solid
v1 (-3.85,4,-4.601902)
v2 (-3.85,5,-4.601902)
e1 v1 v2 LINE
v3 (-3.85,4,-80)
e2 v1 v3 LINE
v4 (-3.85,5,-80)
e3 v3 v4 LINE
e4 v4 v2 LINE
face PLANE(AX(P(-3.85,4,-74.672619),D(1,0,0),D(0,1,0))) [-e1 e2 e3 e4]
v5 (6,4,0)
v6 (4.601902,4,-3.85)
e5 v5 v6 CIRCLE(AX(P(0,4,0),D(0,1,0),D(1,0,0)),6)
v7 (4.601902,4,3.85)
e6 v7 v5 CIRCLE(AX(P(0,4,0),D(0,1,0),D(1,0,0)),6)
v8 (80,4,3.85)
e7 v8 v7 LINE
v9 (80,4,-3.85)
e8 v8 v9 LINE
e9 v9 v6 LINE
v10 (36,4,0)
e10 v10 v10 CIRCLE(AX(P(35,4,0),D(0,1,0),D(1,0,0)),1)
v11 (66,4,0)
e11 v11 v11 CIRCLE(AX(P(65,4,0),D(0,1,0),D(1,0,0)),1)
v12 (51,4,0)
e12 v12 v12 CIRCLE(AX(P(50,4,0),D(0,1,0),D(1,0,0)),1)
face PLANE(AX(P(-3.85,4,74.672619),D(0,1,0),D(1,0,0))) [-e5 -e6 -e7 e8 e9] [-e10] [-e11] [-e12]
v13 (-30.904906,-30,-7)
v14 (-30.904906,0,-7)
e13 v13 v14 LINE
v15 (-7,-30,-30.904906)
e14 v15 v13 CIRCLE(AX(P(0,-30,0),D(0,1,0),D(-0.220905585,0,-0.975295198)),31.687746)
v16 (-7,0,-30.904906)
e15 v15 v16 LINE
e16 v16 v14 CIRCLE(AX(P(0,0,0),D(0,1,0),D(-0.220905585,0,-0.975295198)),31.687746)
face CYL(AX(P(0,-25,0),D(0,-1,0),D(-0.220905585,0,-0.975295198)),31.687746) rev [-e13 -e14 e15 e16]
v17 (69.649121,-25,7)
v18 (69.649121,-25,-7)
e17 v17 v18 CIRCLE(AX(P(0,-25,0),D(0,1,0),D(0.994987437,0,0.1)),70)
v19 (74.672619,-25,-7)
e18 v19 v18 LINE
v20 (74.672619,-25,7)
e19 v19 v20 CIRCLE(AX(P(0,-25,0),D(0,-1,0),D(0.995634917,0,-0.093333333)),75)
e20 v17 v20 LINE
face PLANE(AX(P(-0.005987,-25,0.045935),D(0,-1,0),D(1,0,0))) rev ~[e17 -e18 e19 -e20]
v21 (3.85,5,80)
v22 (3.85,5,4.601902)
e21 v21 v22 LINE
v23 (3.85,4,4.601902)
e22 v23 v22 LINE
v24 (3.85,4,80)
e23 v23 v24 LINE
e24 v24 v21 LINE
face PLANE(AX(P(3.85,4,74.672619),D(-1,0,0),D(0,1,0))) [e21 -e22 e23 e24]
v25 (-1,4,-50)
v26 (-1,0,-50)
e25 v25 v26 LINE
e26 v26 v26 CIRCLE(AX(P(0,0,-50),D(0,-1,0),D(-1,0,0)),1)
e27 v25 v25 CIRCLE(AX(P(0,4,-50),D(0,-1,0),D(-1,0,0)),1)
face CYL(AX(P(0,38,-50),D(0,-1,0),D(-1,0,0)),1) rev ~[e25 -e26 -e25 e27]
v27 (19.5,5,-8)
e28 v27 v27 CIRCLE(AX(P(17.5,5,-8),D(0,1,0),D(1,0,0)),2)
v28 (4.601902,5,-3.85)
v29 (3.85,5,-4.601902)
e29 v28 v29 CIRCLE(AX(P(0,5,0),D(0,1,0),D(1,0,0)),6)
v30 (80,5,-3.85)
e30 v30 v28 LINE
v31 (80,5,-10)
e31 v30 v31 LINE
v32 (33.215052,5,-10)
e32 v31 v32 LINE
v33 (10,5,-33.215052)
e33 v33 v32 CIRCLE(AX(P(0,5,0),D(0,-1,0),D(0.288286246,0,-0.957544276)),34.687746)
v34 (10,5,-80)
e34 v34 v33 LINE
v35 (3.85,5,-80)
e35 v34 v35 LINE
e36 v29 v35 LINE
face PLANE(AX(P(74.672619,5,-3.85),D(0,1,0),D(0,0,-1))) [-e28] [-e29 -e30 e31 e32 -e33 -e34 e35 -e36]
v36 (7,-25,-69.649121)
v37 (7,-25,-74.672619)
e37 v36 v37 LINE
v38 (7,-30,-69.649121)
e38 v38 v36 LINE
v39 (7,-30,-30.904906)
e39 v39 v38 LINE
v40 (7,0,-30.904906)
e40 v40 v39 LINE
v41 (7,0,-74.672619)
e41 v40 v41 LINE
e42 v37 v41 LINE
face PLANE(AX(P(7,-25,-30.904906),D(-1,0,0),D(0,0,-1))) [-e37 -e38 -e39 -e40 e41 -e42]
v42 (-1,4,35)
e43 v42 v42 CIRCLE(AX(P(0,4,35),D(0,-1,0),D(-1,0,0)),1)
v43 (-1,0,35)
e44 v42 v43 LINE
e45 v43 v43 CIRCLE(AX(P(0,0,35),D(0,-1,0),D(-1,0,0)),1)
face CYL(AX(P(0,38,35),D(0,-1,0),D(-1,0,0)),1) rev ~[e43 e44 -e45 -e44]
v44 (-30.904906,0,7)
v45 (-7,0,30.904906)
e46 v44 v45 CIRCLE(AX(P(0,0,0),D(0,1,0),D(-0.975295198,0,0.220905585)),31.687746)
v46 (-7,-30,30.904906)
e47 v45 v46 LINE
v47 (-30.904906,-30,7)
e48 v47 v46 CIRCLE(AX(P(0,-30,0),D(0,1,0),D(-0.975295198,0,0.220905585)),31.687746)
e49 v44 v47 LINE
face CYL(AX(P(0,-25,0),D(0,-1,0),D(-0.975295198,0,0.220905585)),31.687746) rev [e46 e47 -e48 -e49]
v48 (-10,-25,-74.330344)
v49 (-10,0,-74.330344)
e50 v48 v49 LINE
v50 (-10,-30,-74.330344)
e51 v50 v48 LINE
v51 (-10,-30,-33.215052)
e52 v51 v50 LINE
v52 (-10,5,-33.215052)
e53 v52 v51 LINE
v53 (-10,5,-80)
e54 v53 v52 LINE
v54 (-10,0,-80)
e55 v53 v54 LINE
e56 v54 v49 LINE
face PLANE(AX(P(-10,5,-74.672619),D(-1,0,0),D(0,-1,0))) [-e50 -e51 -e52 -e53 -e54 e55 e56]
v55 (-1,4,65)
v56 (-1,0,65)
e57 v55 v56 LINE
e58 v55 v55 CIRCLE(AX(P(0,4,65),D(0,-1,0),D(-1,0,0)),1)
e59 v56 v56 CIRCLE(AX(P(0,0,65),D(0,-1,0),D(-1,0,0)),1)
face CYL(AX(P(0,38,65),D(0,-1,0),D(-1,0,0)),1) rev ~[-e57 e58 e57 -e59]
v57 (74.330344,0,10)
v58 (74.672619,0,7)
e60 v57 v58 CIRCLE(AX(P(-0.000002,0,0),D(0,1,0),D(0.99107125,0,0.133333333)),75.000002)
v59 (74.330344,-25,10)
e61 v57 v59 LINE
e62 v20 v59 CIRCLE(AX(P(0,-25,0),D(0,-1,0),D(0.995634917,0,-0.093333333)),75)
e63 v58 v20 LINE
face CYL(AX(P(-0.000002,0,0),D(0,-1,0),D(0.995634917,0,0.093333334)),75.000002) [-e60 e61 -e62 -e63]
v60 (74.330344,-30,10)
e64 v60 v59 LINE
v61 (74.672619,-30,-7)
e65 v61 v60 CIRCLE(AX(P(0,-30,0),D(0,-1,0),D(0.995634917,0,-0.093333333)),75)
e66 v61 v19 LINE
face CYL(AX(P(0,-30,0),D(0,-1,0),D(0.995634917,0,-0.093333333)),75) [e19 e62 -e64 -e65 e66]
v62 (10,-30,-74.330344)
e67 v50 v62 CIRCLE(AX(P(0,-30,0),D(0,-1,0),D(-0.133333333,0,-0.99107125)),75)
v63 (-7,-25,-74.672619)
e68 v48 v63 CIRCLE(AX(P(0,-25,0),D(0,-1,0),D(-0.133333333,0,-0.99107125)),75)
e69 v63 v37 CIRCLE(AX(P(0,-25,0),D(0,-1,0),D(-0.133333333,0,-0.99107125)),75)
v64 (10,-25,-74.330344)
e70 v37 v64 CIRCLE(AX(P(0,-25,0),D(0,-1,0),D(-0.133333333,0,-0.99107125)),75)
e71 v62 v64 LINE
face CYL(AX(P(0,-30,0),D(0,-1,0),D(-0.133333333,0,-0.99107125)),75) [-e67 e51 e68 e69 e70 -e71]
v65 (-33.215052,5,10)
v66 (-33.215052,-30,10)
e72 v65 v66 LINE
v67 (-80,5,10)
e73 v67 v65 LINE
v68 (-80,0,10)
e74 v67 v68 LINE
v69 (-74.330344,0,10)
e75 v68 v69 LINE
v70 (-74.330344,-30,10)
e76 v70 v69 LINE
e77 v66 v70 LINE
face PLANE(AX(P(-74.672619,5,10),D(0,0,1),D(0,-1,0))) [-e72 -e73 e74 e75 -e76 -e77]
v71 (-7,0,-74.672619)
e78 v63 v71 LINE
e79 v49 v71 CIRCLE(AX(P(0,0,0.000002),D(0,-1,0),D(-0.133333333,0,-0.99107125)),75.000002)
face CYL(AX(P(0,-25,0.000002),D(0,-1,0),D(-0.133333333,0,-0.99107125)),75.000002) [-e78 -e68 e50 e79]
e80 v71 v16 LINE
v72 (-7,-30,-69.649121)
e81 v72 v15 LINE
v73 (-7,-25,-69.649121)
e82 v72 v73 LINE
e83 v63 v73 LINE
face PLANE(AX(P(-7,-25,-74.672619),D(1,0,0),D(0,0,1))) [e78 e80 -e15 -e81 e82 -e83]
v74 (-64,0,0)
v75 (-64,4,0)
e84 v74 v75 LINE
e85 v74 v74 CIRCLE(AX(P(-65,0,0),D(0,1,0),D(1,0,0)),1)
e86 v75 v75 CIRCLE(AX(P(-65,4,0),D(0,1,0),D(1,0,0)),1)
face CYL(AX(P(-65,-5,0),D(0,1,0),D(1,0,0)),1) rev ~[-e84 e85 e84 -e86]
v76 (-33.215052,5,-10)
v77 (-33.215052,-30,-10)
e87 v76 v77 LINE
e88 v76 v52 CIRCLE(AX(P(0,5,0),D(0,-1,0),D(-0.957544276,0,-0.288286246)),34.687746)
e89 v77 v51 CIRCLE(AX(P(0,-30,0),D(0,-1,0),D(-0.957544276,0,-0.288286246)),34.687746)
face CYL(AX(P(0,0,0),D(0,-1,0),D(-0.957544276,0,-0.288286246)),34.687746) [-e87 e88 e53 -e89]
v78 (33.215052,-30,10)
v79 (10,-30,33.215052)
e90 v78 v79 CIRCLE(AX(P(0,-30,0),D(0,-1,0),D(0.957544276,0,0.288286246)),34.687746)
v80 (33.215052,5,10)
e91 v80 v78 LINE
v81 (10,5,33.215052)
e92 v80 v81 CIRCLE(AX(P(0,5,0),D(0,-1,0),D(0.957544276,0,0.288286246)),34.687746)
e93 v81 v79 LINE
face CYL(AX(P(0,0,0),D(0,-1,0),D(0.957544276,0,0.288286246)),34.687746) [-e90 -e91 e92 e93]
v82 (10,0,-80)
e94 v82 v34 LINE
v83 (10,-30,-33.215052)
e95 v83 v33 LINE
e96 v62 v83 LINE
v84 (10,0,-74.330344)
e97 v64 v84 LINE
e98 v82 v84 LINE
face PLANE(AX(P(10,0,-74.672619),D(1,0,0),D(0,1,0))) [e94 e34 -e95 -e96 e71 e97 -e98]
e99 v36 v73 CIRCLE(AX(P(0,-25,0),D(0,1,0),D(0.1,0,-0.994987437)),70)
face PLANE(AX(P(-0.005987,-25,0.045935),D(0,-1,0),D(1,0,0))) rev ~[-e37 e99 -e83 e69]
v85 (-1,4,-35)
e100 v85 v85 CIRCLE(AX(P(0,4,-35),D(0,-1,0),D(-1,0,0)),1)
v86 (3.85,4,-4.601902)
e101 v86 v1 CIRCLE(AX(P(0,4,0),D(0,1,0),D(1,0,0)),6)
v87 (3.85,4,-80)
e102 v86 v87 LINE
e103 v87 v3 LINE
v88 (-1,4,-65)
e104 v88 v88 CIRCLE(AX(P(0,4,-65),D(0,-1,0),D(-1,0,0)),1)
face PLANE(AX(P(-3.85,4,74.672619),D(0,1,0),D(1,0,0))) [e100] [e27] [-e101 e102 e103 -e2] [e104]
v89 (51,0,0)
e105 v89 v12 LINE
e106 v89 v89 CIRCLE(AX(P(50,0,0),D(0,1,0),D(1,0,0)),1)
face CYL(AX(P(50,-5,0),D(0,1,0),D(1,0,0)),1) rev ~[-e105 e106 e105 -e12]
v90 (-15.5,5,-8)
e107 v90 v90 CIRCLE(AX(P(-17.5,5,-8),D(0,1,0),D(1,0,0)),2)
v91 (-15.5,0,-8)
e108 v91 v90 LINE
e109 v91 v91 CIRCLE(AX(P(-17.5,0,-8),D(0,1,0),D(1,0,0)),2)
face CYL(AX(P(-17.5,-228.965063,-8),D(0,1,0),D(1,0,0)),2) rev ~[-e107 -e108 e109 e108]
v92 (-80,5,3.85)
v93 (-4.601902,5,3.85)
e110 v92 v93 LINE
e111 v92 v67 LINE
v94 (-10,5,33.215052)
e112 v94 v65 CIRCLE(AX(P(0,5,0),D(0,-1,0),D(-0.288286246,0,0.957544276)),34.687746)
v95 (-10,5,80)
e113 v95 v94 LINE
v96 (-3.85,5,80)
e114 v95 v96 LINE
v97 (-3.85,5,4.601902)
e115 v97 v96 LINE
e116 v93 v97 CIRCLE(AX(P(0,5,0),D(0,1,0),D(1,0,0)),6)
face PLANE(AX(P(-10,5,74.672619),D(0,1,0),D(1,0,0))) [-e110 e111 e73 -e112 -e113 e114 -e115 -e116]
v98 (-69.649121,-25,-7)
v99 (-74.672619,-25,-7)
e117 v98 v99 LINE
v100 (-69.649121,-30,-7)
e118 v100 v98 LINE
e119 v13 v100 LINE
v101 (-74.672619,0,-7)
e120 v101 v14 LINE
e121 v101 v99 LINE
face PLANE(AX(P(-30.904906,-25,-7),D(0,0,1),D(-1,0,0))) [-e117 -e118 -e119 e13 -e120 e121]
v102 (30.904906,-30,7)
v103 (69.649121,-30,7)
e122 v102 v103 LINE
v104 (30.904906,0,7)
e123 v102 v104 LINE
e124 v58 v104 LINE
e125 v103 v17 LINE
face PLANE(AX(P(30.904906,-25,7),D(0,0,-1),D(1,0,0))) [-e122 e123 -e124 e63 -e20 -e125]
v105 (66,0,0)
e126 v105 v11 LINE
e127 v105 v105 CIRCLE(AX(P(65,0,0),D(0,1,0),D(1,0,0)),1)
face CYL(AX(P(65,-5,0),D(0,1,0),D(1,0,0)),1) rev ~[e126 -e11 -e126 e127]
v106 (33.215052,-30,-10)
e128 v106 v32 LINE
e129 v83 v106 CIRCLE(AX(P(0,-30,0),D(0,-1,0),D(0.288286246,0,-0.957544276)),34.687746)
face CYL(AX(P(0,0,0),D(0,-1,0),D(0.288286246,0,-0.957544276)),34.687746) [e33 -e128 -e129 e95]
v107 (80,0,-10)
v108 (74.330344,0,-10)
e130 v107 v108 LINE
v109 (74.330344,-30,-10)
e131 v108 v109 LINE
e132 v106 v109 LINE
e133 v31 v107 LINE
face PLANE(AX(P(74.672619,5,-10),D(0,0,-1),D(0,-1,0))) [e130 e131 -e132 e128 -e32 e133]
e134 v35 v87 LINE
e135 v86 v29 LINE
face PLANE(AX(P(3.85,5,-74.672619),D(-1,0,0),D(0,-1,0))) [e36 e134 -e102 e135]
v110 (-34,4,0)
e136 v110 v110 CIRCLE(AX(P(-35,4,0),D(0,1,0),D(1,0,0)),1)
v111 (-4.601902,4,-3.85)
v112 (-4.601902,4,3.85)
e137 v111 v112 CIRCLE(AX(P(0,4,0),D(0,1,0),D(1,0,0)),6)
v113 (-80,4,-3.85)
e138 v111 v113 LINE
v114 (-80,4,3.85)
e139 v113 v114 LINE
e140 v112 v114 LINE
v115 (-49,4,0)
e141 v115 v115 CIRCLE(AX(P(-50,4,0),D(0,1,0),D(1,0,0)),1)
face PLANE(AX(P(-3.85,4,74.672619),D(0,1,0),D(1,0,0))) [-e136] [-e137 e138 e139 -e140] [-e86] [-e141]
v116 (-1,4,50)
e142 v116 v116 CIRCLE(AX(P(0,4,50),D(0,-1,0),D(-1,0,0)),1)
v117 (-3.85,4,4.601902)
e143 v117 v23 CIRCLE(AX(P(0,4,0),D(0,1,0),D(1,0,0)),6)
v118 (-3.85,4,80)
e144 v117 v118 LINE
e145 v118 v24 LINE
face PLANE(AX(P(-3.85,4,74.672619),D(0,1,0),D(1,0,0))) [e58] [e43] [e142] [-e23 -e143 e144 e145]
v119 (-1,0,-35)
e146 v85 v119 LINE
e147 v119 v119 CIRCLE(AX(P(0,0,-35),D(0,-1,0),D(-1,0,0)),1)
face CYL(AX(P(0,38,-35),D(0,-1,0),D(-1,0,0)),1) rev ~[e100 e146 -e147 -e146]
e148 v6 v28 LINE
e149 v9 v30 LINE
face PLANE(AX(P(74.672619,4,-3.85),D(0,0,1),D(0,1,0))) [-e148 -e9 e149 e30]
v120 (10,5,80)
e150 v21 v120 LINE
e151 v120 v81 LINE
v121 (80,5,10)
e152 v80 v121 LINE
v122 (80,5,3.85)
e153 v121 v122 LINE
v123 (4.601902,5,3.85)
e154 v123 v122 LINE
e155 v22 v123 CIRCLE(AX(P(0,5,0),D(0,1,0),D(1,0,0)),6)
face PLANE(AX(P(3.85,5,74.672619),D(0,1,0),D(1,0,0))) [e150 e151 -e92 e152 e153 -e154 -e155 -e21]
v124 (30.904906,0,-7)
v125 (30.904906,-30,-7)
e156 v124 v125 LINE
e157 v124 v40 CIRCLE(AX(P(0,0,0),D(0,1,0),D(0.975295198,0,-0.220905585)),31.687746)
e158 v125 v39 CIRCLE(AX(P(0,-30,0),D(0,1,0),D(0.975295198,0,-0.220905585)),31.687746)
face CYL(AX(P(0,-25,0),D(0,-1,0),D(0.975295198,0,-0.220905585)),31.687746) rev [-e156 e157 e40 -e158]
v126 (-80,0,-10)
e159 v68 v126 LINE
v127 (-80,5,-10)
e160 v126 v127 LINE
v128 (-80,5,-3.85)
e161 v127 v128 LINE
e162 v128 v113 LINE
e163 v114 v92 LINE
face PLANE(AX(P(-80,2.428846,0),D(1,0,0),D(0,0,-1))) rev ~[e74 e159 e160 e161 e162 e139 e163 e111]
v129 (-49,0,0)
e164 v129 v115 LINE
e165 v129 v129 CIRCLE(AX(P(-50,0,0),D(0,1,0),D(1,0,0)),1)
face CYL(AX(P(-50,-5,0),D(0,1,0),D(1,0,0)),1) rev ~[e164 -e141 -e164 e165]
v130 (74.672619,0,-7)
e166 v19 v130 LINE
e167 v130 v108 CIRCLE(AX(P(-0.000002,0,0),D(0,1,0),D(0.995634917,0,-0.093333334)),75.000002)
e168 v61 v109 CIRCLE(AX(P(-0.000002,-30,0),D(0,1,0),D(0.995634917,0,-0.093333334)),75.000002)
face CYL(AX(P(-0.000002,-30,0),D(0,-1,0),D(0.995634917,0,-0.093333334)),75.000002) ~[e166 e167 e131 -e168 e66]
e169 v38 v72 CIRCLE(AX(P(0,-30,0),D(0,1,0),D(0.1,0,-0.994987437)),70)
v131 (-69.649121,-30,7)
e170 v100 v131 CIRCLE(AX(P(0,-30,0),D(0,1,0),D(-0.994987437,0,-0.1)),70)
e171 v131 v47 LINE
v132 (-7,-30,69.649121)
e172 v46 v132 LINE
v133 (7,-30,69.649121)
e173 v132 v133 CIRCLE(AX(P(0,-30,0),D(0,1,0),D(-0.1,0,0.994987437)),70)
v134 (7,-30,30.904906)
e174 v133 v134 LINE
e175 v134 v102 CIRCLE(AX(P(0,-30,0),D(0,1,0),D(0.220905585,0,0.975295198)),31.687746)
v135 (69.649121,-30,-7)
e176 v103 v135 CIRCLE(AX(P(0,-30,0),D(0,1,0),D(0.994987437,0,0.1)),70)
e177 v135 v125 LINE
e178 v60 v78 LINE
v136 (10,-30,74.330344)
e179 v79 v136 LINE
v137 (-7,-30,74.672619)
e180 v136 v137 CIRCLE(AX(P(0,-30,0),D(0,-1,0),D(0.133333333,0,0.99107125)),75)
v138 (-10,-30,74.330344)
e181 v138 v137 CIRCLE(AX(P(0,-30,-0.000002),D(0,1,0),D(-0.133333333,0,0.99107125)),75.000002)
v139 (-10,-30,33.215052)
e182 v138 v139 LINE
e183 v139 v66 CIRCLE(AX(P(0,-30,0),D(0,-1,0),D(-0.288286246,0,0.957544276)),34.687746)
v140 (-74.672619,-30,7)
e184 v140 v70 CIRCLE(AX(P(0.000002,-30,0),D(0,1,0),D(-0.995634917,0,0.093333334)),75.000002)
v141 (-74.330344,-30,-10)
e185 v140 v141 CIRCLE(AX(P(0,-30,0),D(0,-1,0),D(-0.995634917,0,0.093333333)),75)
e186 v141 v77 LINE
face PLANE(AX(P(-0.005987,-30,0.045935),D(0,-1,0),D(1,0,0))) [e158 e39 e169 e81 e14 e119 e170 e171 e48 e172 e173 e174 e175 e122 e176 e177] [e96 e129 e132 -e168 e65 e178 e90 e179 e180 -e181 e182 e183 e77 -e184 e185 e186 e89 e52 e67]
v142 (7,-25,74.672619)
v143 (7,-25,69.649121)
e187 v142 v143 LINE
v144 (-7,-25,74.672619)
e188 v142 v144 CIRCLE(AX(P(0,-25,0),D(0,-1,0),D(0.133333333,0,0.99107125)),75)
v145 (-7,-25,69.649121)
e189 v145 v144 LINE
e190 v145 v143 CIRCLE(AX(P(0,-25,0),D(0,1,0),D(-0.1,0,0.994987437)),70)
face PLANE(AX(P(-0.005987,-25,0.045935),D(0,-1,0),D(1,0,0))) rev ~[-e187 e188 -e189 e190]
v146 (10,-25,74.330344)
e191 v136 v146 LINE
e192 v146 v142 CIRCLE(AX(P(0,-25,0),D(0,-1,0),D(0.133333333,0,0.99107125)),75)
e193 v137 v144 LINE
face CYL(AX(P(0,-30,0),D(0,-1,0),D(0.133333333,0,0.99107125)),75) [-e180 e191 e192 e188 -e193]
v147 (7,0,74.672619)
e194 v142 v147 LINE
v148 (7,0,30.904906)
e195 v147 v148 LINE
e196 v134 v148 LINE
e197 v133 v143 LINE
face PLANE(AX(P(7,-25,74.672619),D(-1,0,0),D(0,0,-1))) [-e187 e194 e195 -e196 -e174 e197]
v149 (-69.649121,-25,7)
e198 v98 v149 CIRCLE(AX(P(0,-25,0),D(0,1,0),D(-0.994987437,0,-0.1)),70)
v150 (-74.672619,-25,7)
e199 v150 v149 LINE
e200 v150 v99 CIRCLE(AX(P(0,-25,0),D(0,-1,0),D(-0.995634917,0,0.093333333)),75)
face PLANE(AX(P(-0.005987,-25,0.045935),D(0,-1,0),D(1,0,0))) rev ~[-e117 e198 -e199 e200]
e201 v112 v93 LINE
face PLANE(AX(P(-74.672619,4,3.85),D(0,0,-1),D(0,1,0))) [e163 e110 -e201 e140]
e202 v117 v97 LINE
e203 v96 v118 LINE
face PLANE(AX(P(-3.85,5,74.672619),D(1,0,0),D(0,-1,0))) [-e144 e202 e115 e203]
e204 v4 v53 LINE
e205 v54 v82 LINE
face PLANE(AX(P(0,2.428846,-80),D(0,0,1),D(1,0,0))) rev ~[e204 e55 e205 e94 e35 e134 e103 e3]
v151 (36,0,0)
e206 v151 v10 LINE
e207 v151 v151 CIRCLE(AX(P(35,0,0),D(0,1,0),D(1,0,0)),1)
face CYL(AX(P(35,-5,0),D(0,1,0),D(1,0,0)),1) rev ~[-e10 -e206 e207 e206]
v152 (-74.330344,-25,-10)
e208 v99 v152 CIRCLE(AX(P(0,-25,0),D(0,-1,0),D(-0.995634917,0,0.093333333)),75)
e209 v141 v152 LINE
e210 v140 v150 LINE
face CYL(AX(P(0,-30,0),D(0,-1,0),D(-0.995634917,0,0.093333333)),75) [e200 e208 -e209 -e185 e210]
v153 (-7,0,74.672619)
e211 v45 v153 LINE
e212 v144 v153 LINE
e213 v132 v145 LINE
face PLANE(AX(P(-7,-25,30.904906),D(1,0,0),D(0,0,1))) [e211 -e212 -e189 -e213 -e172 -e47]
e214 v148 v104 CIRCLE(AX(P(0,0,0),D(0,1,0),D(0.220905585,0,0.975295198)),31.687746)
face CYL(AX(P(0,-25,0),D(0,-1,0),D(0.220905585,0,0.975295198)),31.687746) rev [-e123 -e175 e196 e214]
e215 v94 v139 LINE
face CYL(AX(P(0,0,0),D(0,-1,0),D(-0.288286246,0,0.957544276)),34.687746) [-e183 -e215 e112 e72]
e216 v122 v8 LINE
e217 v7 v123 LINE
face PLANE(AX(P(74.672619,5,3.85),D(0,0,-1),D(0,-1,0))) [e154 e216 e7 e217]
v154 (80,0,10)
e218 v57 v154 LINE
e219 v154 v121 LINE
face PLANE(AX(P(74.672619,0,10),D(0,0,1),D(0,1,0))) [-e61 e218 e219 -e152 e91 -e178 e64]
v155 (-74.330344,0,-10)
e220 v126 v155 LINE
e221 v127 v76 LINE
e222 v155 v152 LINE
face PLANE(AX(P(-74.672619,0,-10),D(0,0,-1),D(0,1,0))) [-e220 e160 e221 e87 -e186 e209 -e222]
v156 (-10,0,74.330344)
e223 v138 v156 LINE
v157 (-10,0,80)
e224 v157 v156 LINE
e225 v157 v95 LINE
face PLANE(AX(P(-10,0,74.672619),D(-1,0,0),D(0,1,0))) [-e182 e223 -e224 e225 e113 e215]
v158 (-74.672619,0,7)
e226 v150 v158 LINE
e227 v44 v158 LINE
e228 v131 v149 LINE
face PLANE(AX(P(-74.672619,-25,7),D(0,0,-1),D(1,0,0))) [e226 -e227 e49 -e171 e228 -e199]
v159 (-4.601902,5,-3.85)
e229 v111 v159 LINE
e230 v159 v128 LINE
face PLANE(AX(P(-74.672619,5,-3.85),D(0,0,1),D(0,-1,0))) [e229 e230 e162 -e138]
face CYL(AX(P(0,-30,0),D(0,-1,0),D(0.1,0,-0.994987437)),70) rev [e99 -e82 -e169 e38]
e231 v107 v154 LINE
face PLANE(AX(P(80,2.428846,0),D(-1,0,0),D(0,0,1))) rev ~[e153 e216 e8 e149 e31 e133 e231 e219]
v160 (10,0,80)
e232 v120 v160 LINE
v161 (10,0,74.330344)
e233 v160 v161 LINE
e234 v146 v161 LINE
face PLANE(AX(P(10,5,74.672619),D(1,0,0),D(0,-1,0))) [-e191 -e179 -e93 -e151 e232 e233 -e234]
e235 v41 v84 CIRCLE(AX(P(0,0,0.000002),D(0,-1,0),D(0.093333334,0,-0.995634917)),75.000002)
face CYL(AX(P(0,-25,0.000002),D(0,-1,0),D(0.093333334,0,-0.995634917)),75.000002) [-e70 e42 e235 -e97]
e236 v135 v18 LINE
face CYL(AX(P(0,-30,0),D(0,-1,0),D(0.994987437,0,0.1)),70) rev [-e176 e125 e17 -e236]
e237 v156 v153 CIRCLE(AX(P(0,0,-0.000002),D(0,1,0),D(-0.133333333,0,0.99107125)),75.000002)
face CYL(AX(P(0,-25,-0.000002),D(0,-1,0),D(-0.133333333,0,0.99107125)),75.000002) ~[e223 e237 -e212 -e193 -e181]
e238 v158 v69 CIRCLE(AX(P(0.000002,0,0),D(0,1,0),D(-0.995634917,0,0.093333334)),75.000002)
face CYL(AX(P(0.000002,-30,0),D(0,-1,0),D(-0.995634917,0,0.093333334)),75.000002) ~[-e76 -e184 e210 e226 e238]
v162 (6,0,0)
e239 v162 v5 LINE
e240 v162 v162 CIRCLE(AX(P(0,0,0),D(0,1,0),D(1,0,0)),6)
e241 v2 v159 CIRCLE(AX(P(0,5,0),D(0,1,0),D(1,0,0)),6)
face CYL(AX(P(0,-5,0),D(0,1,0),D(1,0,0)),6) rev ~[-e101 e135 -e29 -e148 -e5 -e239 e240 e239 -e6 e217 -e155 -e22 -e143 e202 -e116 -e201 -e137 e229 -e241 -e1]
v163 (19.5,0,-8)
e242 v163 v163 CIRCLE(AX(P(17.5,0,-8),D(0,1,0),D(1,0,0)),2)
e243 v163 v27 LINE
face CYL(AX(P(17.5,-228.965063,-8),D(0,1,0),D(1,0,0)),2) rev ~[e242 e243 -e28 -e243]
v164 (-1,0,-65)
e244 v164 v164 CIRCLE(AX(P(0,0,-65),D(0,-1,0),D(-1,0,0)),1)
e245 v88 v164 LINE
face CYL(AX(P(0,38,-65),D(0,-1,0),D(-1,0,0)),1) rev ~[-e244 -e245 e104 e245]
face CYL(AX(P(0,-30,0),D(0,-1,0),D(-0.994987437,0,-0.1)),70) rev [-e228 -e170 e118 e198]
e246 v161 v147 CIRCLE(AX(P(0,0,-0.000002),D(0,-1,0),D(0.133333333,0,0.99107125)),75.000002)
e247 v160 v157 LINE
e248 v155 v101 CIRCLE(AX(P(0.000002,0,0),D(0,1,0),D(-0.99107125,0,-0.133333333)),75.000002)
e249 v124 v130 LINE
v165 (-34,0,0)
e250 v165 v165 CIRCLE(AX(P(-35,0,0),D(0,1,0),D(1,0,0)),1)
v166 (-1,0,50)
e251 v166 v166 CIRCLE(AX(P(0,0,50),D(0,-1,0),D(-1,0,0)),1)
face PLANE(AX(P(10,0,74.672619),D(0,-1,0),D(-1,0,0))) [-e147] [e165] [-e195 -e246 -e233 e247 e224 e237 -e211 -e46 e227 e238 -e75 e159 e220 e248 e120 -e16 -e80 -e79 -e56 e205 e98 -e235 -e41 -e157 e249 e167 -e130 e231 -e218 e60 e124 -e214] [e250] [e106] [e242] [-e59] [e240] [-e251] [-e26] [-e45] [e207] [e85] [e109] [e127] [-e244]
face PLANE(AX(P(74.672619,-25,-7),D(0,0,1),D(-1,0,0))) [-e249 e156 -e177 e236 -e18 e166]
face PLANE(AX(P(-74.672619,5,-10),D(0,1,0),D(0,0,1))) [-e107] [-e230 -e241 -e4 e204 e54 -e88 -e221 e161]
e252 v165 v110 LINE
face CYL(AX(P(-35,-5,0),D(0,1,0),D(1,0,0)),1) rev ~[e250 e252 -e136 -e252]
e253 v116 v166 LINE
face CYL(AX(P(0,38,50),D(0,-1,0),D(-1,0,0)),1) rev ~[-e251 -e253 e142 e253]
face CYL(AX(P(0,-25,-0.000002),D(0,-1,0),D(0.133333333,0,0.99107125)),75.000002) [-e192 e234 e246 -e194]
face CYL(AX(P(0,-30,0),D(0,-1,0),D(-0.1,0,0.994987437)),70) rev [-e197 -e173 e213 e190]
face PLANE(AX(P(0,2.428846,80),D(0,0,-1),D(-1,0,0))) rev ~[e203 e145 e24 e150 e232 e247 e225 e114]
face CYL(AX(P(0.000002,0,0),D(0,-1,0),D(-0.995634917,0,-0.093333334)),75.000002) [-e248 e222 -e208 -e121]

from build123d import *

# Parameters (mm, degrees)
EXTRUDE_1_DEPTH             = 5
EXTRUDE_2_DEPTH             = 25
EXTRUDE_3_DEPTH             = 25
EXTRUDE_4_DEPTH             = 25
EXTRUDE_5_DEPTH             = 25
EXTRUDE_6_DEPTH             = 5
CUT_EXTRUDE_1_DEPTH         = 1
CUT_EXTRUDE_2_DEPTH         = 5
CUT_EXTRUDE_3_DEPTH         = 5
CUT_EXTRUDE_4_DEPTH         = 5
CUT_EXTRUDE_5_DEPTH         = 25
CUT_EXTRUDE_6_DEPTH         = 0.342275074
CUT_EXTRUDE_START           = -5
CUT_EXTRUDE_7_DEPTH         = 5
EXTRUDE_7_DEPTH             = 0.342275074
CUT_EXTRUDE_8_DEPTH         = 25
CUT_EXTRUDE_9_DEPTH         = 0.342275074
CUT_EXTRUDE_10_DEPTH        = 5
EXTRUDE_8_DEPTH             = 0.342275074
EXTRUDE_9_DEPTH             = 5.32738119
EXTRUDE_10_DEPTH            = 5.32738119
EXTRUDE_11_DEPTH            = 5.32738119
CUT_EXTRUDE_11_DEPTH        = 25
EXTRUDE_12_DEPTH            = 5.32738119
HOLE_WIZARD_2_0_2_1_D       = 2
HOLE_WIZARD_2_0_2_1_DEPTH   = 5
HOLE_WIZARD_12_0_12_1_D     = 12
HOLE_WIZARD_12_0_12_1_DEPTH = 5
HOLE_WIZARD_2_0_2_2_D       = 2
HOLE_WIZARD_2_0_2_2_DEPTH   = 34
HOLE_WIZARD_4_0_4_1_D       = 4


with BuildPart() as part:
    # 草图1 → 凸台-拉伸1 (new body)
    with BuildSketch(Plane.XZ.offset(30)):
        with BuildLine():
            Line((-7, 74.67261881), (-10, 74.67261881))
            Line((-10, 74.67261881), (-10, 33.215052396))
            ThreePointArc((-10, 33.215052396), (-24.527940249, 24.527940249), (-33.215052396, 10))
            Line((-33.215052396, 10), (-74.330343737, 10))
            add(Edge.make_bspline(
                [(-74.67261881, 10), (-74.558527119, 10), (-74.444435428, 10), (-74.330343737, 10)],
                knots=[0, 0, 0, 0, 1, 1, 1, 1], degree=3))
            Line((-74.67261881, 10), (-74.67261881, 7))
            ThreePointArc((-74.67261881, 7), (-74.984803207, -1.509731121), (-74.330343737, -10))
            Line((-74.330343737, -10), (-33.215052396, -10))
            ThreePointArc((-33.215052396, -10), (-24.527940249, -24.527940249), (-10, -33.215052396))
            Line((-10, -33.215052396), (-10, -74.330343737))
            ThreePointArc((-10, -74.330343737), (0, -75), (10, -74.330343737))
            Line((10, -74.330343737), (10, -33.215052396))
            ThreePointArc((10, -33.215052396), (24.527940249, -24.527940249), (33.215052396, -10))
            Line((33.215052396, -10), (74.330343737, -10))
            add(Edge.make_bspline(
                [(74.67261881, -10), (74.558527119, -10), (74.444435428, -10), (74.330343737, -10)],
                knots=[0, 0, 0, 0, 1, 1, 1, 1], degree=3))
            Line((74.67261881, -10), (74.67261881, -7))
            ThreePointArc((74.67261881, -7), (74.984803207, 1.509731121), (74.330343737, 10))
            Line((74.330343737, 10), (33.215052396, 10))
            ThreePointArc((33.215052396, 10), (24.527940249, 24.527940249), (10, 33.215052396))
            Line((10, 33.215052396), (10, 74.330343737))
            ThreePointArc((10, 74.330343737), (1.509731121, 74.984803207), (-7, 74.67261881))
        make_face()
        with BuildLine():
            Line((-69.649120597, 7), (-30.904906263, 7))
            ThreePointArc((-30.904906263, 7), (-22.406619905, 22.406619905), (-7, 30.904906263))
            Line((-7, 30.904906263), (-7, 69.649120597))
            ThreePointArc((-7, 69.649120597), (0, 70), (7, 69.649120597))
            Line((7, 69.649120597), (7, 30.904906263))
            ThreePointArc((7, 30.904906263), (22.406619905, 22.406619905), (30.904906263, 7))
            Line((30.904906263, 7), (69.649120597, 7))
            ThreePointArc((69.649120597, 7), (70, 0), (69.649120597, -7))
            Line((69.649120597, -7), (30.904906263, -7))
            ThreePointArc((30.904906263, -7), (22.406619905, -22.406619905), (7, -30.904906263))
            Line((7, -30.904906263), (7, -69.649120597))
            ThreePointArc((7, -69.649120597), (0, -70), (-7, -69.649120597))
            Line((-7, -69.649120597), (-7, -30.904906263))
            ThreePointArc((-7, -30.904906263), (-22.406619905, -22.406619905), (-30.904906263, -7))
            Line((-30.904906263, -7), (-69.649120597, -7))
            ThreePointArc((-69.649120597, -7), (-70, 0), (-69.649120597, 7))
        make_face(mode=Mode.SUBTRACT)
    extrude(amount=-EXTRUDE_1_DEPTH)

    # 草图2 → 凸台-拉伸2 (add)
    with BuildSketch(Plane(origin=(0, -25, 0), x_dir=(-1, 0, 0), z_dir=(0, 1, 0))):
        with BuildLine():
            Line((74.67261881, 7), (30.904906263, 7))
            ThreePointArc((30.904906263, 7), (22.406619905, 22.406619905), (7, 30.904906263))
            Line((7, 30.904906263), (7, 74.67261881))
            Line((7, 74.67261881), (10, 74.67261881))
            Line((10, 74.67261881), (10, 33.215052396))
            ThreePointArc((10, 33.215052396), (24.527940249, 24.527940249), (33.215052396, 10))
            Line((33.215052396, 10), (74.67261881, 10))
            Line((74.67261881, 10), (74.67261881, 7))
        make_face()
    extrude(amount=EXTRUDE_2_DEPTH)

    # 草图3 → 凸台-拉伸3 (add)
    with BuildSketch(Plane(origin=(0, -25, 0), x_dir=(-1, 0, 0), z_dir=(0, 1, 0))):
        with BuildLine():
            Line((-74.67261881, -7), (-30.904906263, -7))
            ThreePointArc((-30.904906263, -7), (-22.406619905, -22.406619905), (-7, -30.904906263))
            Line((-7, -30.904906263), (-7, -74.67261881))
            ThreePointArc((-7, -74.67261881), (-8.501722652, -74.516580114), (-10, -74.330343737))
            Line((-10, -74.330343737), (-10, -33.215052396))
            ThreePointArc((-10, -33.215052396), (-24.527940249, -24.527940249), (-33.215052396, -10))
            Line((-33.215052396, -10), (-74.67261881, -10))
            Line((-74.67261881, -10), (-74.67261881, -7))
        make_face()
    extrude(amount=EXTRUDE_3_DEPTH)

    # 草图4 → 凸台-拉伸4 (add)
    with BuildSketch(Plane(origin=(0, -25, 0), x_dir=(-1, 0, 0), z_dir=(0, 1, 0))):
        with BuildLine():
            Line((-30.904906263, 7), (-74.67261881, 7))
            ThreePointArc((-74.67261881, 7), (-74.516580114, 8.501722652), (-74.330343737, 10))
            Line((-74.330343737, 10), (-33.215052396, 10))
            ThreePointArc((-33.215052396, 10), (-24.527940249, 24.527940249), (-10, 33.215052396))
            Line((-10, 33.215052396), (-10, 74.330343737))
            ThreePointArc((-10, 74.330343737), (-8.501722652, 74.516580114), (-7, 74.67261881))
            Line((-7, 74.67261881), (-7, 30.904906263))
            ThreePointArc((-7, 30.904906263), (-22.406619905, 22.406619905), (-30.904906263, 7))
        make_face()
    extrude(amount=EXTRUDE_4_DEPTH)

    # 草图5 → 凸台-拉伸5 (add)
    with BuildSketch(Plane(origin=(0, -25, 0), x_dir=(-1, 0, 0), z_dir=(0, 1, 0))):
        with BuildLine():
            Line((30.904906263, -7), (74.67261881, -7))
            ThreePointArc((74.67261881, -7), (74.516580114, -8.501722652), (74.330343737, -10))
            Line((74.330343737, -10), (33.215052396, -10))
            ThreePointArc((33.215052396, -10), (24.527940249, -24.527940249), (10, -33.215052396))
            Line((10, -33.215052396), (10, -74.330343737))
            ThreePointArc((10, -74.330343737), (8.501722652, -74.516580114), (7, -74.67261881))
            Line((7, -74.67261881), (7, -30.904906263))
            ThreePointArc((7, -30.904906263), (22.406619905, -22.406619905), (30.904906263, -7))
        make_face()
    extrude(amount=EXTRUDE_5_DEPTH)

    # 草图6 → 凸台-拉伸6 (add)
    with BuildSketch(Plane(origin=(0, 0, 0), x_dir=(-1, 0, 0), z_dir=(0, 1, 0))):
        with BuildLine():
            Line((-74.67261881, -10), (-74.67261881, 7))
            ThreePointArc((-74.67261881, 7), (-74.516580114, 8.501722652), (-74.330343737, 10))
            Line((-74.330343737, 10), (-33.215052396, 10))
            ThreePointArc((-33.215052396, 10), (-24.527940249, 24.527940249), (-10, 33.215052396))
            Line((-10, 33.215052396), (-10, 74.67261881))
            Line((-10, 74.67261881), (10, 74.67261881))
            Line((10, 74.67261881), (10, 33.215052396))
            ThreePointArc((10, 33.215052396), (24.527940249, 24.527940249), (33.215052396, 10))
            Line((33.215052396, 10), (74.330343737, 10))
            add(Edge.make_bspline(
                [(74.67261881, 10), (74.558527119, 10), (74.444435428, 10), (74.330343737, 10)],
                knots=[0, 0, 0, 0, 1, 1, 1, 1], degree=3))
            Line((74.67261881, 10), (74.67261881, -7))
            ThreePointArc((74.67261881, -7), (74.516580114, -8.501722652), (74.330343737, -10))
            Line((74.330343737, -10), (33.215052396, -10))
            ThreePointArc((33.215052396, -10), (24.527940249, -24.527940249), (10, -33.215052396))
            Line((10, -33.215052396), (10, -74.67261881))
            Line((10, -74.67261881), (-10, -74.67261881))
            Line((-10, -74.67261881), (-10, -33.215052396))
            ThreePointArc((-10, -33.215052396), (-24.527940249, -24.527940249), (-33.215052396, -10))
            Line((-33.215052396, -10), (-74.330343737, -10))
            add(Edge.make_bspline(
                [(-74.67261881, -10), (-74.558527119, -10), (-74.444435428, -10), (-74.330343737, -10)],
                knots=[0, 0, 0, 0, 1, 1, 1, 1], degree=3))
        make_face()
    extrude(amount=EXTRUDE_6_DEPTH)

    # 草图7 → 切除-拉伸1 (cut)
    with BuildSketch(Plane(origin=(0, 5, 0), x_dir=(-1, 0, 0), z_dir=(0, 1, 0))):
        with BuildLine():
            Line((3.85, -3.85), (74.330343737, -3.85))
            add(Edge.make_bspline(
                [(74.67261881, -3.85), (74.558527119, -3.85), (74.444435428, -3.85), (74.330343737, -3.85)],
                knots=[0, 0, 0, 0, 1, 1, 1, 1], degree=3))
            Line((74.67261881, -3.85), (74.67261881, 3.85))
            add(Edge.make_bspline(
                [(74.67261881, 3.85), (74.558527119, 3.85), (74.444435428, 3.85), (74.330343737, 3.85)],
                knots=[0, 0, 0, 0, 1, 1, 1, 1], degree=3))
            Line((74.330343737, 3.85), (3.85, 3.85))
            Line((3.85, 3.85), (3.85, 74.67261881))
            Line((3.85, 74.67261881), (-3.85, 74.67261881))
            Line((-3.85, 74.67261881), (-3.85, 3.85))
            Line((-3.85, 3.85), (-74.330343737, 3.85))
            add(Edge.make_bspline(
                [(-74.67261881, 3.85), (-74.558527119, 3.85), (-74.444435428, 3.85), (-74.330343737, 3.85)],
                knots=[0, 0, 0, 0, 1, 1, 1, 1], degree=3))
            Line((-74.67261881, 3.85), (-74.67261881, -3.85))
            add(Edge.make_bspline(
                [(-74.67261881, -3.85), (-74.558527119, -3.85), (-74.444435428, -3.85), (-74.330343737, -3.85)],
                knots=[0, 0, 0, 0, 1, 1, 1, 1], degree=3))
            Line((-74.330343737, -3.85), (-3.85, -3.85))
            Line((-3.85, -3.85), (-3.85, -74.67261881))
            Line((-3.85, -74.67261881), (3.85, -74.67261881))
            Line((3.85, -74.67261881), (3.85, -3.85))
        make_face()
    extrude(amount=-CUT_EXTRUDE_1_DEPTH, mode=Mode.SUBTRACT)

    # 草图8 → 切除-拉伸2 (cut)
    with BuildSketch(Plane.XZ.offset(30)):
        with BuildLine():
            Line((-7, 74.67261881), (-10, 74.67261881))
            Line((-10, 74.67261881), (-10, 74.330343737))
            ThreePointArc((-10, 74.330343737), (-8.501722652, 74.516580114), (-7, 74.67261881))
        make_face()
    extrude(amount=-CUT_EXTRUDE_2_DEPTH, mode=Mode.SUBTRACT)

    # 草图9 → 切除-拉伸3 (cut)
    with BuildSketch(Plane.XZ.offset(30)):
        with BuildLine():
            Line((-74.67261881, 10), (-74.67261881, 7))
            ThreePointArc((-74.67261881, 7), (-74.516580114, 8.501722652), (-74.330343737, 10))
            add(Edge.make_bspline(
                [(-74.67261881, 10), (-74.558527119, 10), (-74.444435428, 10), (-74.330343737, 10)],
                knots=[0, 0, 0, 0, 1, 1, 1, 1], degree=3))
        make_face()
    extrude(amount=-CUT_EXTRUDE_3_DEPTH, mode=Mode.SUBTRACT)

    # 草图10 → 切除-拉伸4 (cut)
    with BuildSketch(Plane.XZ.offset(30)):
        with BuildLine():
            Line((74.67261881, -10), (74.67261881, -7))
            ThreePointArc((74.67261881, -7), (74.516580114, -8.501722652), (74.330343737, -10))
            add(Edge.make_bspline(
                [(74.67261881, -10), (74.558527119, -10), (74.444435428, -10), (74.330343737, -10)],
                knots=[0, 0, 0, 0, 1, 1, 1, 1], degree=3))
        make_face()
    extrude(amount=-CUT_EXTRUDE_4_DEPTH, mode=Mode.SUBTRACT)

    # 草图11 → 切除-拉伸5 (cut)
    with BuildSketch(Plane.XZ.offset(25)):
        with BuildLine():
            Line((-74.67261881, 10), (-74.67261881, 7))
            ThreePointArc((-74.67261881, 7), (-74.516580114, 8.501722652), (-74.330343737, 10))
            add(Edge.make_bspline(
                [(-74.67261881, 10), (-74.558527119, 10), (-74.444435428, 10), (-74.330343737, 10)],
                knots=[0, 0, 0, 0, 1, 1, 1, 1], degree=3))
        make_face()
    extrude(amount=-CUT_EXTRUDE_5_DEPTH, mode=Mode.SUBTRACT)

    # 草图12 → 切除-拉伸6 (cut)
    with BuildSketch(Plane.ZY.offset(74.67261881)):
        Polygon((-3.85, 5), (-7, 5), (-7, 0), (7, 0), (10, 0), (10, 5), (3.85, 5), (3.85, 4), (-3.85, 4), align=None)
    extrude(amount=-CUT_EXTRUDE_6_DEPTH, mode=Mode.SUBTRACT)

    # 草图13 → 切除-拉伸7 (cut)
    with BuildSketch(Plane(origin=(0, 5, 0), x_dir=(-1, 0, 0), z_dir=(0, 1, 0)).offset(CUT_EXTRUDE_START)):
        with BuildLine():
            Line((74.67261881, -7), (74.330343737, -7))
            Line((74.330343737, -7), (74.330343737, -10))
            ThreePointArc((74.330343737, -10), (74.516580114, -8.501722652), (74.67261881, -7))
        make_face()
    extrude(amount=CUT_EXTRUDE_7_DEPTH, mode=Mode.SUBTRACT)

    # 草图14 → 凸台-拉伸7 (add)
    with BuildSketch(Plane.ZY.offset(74.330343737)):
        Polygon((3.85, 4), (3.85, 5), (10, 5), (10, 0), (7, 0), (-7, 0), (-10, 0), (-10, 5), (-3.85, 5), (-3.85, 4), align=None)
    extrude(amount=EXTRUDE_7_DEPTH)

    # 草图15 → 切除-拉伸8 (cut)
    with BuildSketch(Plane.XZ.offset(25)):
        with BuildLine():
            Line((74.67261881, -10), (74.67261881, -7))
            ThreePointArc((74.67261881, -7), (74.516580114, -8.501722652), (74.330343737, -10))
            add(Edge.make_bspline(
                [(74.67261881, -10), (74.558527119, -10), (74.444435428, -10), (74.330343737, -10)],
                knots=[0, 0, 0, 0, 1, 1, 1, 1], degree=3))
        make_face()
    extrude(amount=-CUT_EXTRUDE_8_DEPTH, mode=Mode.SUBTRACT)

    # 草图16 → 切除-拉伸9 (cut)
    with BuildSketch(Plane(origin=(74.67261881, 0, 0), x_dir=(0, 0, -1), z_dir=(1, 0, 0))):
        Polygon((-3.85, 5), (-7, 5), (-7, 0), (7, 0), (10, 0), (10, 5), (3.85, 5), (3.85, 4), (-3.85, 4), align=None)
    extrude(amount=-CUT_EXTRUDE_9_DEPTH, mode=Mode.SUBTRACT)

    # 草图17 → 切除-拉伸10 (cut)
    with BuildSketch(Plane(origin=(0, 5, 0), x_dir=(-1, 0, 0), z_dir=(0, 1, 0)).offset(CUT_EXTRUDE_START)):
        with BuildLine():
            Line((-74.67261881, 7), (-74.330343737, 7))
            Line((-74.330343737, 7), (-74.330343737, 10))
            ThreePointArc((-74.330343737, 10), (-74.516580114, 8.501722652), (-74.67261881, 7))
        make_face()
    extrude(amount=CUT_EXTRUDE_10_DEPTH, mode=Mode.SUBTRACT)

    # 草图18 → 凸台-拉伸8 (add)
    with BuildSketch(Plane(origin=(74.330343737, 0, 0), x_dir=(0, 0, -1), z_dir=(1, 0, 0))):
        Polygon((-3.85, 5), (-3.85, 4), (3.85, 4), (3.85, 5), (10, 5), (10, 0), (7, 0), (-7, 0), (-10, 0), (-10, 5), align=None)
    extrude(amount=EXTRUDE_8_DEPTH)

    # 草图19 → 凸台-拉伸9 (add)
    with BuildSketch(Plane(origin=(0, 0, -74.67261881), x_dir=(-1, 0, 0), z_dir=(0, 0, -1))):
        Polygon((3.85, 4), (3.85, 5), (10, 5), (10, 0), (-10, 0), (-10, 5), (-3.85, 5), (-3.85, 4), align=None)
    extrude(amount=EXTRUDE_9_DEPTH)

    # 草图20 → 凸台-拉伸10 (add)
    with BuildSketch(Plane(origin=(74.67261881, 0, 0), x_dir=(0, 0, -1), z_dir=(1, 0, 0))):
        Polygon((-3.85, 5), (-3.85, 4), (3.85, 4), (3.85, 5), (10, 5), (10, 0), (-10, 0), (-10, 5), align=None)
    extrude(amount=EXTRUDE_10_DEPTH)

    # 草图21 → 凸台-拉伸11 (add)
    with BuildSketch(Plane.ZY.offset(74.67261881)):
        Polygon((3.85, 4), (3.85, 5), (10, 5), (10, 0), (-10, 0), (-10, 5), (-3.85, 5), (-3.85, 4), align=None)
    extrude(amount=EXTRUDE_11_DEPTH)

    # 草图22 → 切除-拉伸11 (cut)
    with BuildSketch(Plane.XZ.offset(25)):
        with BuildLine():
            Line((-7, 74.67261881), (-10, 74.67261881))
            Line((-10, 74.67261881), (-10, 74.330343737))
            ThreePointArc((-10, 74.330343737), (-8.501722652, 74.516580114), (-7, 74.67261881))
        make_face()
    extrude(amount=-CUT_EXTRUDE_11_DEPTH, mode=Mode.SUBTRACT)

    # 草图23 → 凸台-拉伸12 (add)
    with BuildSketch(Plane.XY.offset(74.67261881)):
        Polygon((3.85, 4), (3.85, 5), (10, 5), (10, 0), (-10, 0), (-10, 5), (-3.85, 5), (-3.85, 4), align=None)
    extrude(amount=EXTRUDE_12_DEPTH)

    # Ø2.0 (2) 直径孔1
    with Locations(Plane(origin=(0, 0, 0), x_dir=(-1, 0, 0), z_dir=(0, -1, 0))):
        with Locations((-50, 0), (-35, 0), (-65, 0), (50, 0), (35, 0), (65, 0)):
            Hole(HOLE_WIZARD_2_0_2_1_D / 2, depth=HOLE_WIZARD_2_0_2_1_DEPTH)

    # Ø12.0 (12) 直径孔1
    with Locations(Plane(origin=(0, 0, 0), x_dir=(-1, 0, 0), z_dir=(0, -1, 0))):
        with Locations((0, 0)):
            Hole(HOLE_WIZARD_12_0_12_1_D / 2, depth=HOLE_WIZARD_12_0_12_1_DEPTH)

    # Ø2.0 (2) 直径孔2
    with Locations(Plane(origin=(0, 4, 0), x_dir=(1, 0, 0), z_dir=(0, 1, 0))):
        with Locations((0, -65), (0, 65), (0, 35), (0, 50), (0, -50), (0, -35)):
            Hole(HOLE_WIZARD_2_0_2_2_D / 2, depth=HOLE_WIZARD_2_0_2_2_DEPTH)

    # Ø4.0 (4) 直径孔1 (through all)
    with Locations(Plane(origin=(0, 0, 0), x_dir=(-1, 0, 0), z_dir=(0, -1, 0))):
        with Locations((-17.5, 8), (17.5, 8)):
            Hole(HOLE_WIZARD_4_0_4_1_D / 2)


solid = part.part
